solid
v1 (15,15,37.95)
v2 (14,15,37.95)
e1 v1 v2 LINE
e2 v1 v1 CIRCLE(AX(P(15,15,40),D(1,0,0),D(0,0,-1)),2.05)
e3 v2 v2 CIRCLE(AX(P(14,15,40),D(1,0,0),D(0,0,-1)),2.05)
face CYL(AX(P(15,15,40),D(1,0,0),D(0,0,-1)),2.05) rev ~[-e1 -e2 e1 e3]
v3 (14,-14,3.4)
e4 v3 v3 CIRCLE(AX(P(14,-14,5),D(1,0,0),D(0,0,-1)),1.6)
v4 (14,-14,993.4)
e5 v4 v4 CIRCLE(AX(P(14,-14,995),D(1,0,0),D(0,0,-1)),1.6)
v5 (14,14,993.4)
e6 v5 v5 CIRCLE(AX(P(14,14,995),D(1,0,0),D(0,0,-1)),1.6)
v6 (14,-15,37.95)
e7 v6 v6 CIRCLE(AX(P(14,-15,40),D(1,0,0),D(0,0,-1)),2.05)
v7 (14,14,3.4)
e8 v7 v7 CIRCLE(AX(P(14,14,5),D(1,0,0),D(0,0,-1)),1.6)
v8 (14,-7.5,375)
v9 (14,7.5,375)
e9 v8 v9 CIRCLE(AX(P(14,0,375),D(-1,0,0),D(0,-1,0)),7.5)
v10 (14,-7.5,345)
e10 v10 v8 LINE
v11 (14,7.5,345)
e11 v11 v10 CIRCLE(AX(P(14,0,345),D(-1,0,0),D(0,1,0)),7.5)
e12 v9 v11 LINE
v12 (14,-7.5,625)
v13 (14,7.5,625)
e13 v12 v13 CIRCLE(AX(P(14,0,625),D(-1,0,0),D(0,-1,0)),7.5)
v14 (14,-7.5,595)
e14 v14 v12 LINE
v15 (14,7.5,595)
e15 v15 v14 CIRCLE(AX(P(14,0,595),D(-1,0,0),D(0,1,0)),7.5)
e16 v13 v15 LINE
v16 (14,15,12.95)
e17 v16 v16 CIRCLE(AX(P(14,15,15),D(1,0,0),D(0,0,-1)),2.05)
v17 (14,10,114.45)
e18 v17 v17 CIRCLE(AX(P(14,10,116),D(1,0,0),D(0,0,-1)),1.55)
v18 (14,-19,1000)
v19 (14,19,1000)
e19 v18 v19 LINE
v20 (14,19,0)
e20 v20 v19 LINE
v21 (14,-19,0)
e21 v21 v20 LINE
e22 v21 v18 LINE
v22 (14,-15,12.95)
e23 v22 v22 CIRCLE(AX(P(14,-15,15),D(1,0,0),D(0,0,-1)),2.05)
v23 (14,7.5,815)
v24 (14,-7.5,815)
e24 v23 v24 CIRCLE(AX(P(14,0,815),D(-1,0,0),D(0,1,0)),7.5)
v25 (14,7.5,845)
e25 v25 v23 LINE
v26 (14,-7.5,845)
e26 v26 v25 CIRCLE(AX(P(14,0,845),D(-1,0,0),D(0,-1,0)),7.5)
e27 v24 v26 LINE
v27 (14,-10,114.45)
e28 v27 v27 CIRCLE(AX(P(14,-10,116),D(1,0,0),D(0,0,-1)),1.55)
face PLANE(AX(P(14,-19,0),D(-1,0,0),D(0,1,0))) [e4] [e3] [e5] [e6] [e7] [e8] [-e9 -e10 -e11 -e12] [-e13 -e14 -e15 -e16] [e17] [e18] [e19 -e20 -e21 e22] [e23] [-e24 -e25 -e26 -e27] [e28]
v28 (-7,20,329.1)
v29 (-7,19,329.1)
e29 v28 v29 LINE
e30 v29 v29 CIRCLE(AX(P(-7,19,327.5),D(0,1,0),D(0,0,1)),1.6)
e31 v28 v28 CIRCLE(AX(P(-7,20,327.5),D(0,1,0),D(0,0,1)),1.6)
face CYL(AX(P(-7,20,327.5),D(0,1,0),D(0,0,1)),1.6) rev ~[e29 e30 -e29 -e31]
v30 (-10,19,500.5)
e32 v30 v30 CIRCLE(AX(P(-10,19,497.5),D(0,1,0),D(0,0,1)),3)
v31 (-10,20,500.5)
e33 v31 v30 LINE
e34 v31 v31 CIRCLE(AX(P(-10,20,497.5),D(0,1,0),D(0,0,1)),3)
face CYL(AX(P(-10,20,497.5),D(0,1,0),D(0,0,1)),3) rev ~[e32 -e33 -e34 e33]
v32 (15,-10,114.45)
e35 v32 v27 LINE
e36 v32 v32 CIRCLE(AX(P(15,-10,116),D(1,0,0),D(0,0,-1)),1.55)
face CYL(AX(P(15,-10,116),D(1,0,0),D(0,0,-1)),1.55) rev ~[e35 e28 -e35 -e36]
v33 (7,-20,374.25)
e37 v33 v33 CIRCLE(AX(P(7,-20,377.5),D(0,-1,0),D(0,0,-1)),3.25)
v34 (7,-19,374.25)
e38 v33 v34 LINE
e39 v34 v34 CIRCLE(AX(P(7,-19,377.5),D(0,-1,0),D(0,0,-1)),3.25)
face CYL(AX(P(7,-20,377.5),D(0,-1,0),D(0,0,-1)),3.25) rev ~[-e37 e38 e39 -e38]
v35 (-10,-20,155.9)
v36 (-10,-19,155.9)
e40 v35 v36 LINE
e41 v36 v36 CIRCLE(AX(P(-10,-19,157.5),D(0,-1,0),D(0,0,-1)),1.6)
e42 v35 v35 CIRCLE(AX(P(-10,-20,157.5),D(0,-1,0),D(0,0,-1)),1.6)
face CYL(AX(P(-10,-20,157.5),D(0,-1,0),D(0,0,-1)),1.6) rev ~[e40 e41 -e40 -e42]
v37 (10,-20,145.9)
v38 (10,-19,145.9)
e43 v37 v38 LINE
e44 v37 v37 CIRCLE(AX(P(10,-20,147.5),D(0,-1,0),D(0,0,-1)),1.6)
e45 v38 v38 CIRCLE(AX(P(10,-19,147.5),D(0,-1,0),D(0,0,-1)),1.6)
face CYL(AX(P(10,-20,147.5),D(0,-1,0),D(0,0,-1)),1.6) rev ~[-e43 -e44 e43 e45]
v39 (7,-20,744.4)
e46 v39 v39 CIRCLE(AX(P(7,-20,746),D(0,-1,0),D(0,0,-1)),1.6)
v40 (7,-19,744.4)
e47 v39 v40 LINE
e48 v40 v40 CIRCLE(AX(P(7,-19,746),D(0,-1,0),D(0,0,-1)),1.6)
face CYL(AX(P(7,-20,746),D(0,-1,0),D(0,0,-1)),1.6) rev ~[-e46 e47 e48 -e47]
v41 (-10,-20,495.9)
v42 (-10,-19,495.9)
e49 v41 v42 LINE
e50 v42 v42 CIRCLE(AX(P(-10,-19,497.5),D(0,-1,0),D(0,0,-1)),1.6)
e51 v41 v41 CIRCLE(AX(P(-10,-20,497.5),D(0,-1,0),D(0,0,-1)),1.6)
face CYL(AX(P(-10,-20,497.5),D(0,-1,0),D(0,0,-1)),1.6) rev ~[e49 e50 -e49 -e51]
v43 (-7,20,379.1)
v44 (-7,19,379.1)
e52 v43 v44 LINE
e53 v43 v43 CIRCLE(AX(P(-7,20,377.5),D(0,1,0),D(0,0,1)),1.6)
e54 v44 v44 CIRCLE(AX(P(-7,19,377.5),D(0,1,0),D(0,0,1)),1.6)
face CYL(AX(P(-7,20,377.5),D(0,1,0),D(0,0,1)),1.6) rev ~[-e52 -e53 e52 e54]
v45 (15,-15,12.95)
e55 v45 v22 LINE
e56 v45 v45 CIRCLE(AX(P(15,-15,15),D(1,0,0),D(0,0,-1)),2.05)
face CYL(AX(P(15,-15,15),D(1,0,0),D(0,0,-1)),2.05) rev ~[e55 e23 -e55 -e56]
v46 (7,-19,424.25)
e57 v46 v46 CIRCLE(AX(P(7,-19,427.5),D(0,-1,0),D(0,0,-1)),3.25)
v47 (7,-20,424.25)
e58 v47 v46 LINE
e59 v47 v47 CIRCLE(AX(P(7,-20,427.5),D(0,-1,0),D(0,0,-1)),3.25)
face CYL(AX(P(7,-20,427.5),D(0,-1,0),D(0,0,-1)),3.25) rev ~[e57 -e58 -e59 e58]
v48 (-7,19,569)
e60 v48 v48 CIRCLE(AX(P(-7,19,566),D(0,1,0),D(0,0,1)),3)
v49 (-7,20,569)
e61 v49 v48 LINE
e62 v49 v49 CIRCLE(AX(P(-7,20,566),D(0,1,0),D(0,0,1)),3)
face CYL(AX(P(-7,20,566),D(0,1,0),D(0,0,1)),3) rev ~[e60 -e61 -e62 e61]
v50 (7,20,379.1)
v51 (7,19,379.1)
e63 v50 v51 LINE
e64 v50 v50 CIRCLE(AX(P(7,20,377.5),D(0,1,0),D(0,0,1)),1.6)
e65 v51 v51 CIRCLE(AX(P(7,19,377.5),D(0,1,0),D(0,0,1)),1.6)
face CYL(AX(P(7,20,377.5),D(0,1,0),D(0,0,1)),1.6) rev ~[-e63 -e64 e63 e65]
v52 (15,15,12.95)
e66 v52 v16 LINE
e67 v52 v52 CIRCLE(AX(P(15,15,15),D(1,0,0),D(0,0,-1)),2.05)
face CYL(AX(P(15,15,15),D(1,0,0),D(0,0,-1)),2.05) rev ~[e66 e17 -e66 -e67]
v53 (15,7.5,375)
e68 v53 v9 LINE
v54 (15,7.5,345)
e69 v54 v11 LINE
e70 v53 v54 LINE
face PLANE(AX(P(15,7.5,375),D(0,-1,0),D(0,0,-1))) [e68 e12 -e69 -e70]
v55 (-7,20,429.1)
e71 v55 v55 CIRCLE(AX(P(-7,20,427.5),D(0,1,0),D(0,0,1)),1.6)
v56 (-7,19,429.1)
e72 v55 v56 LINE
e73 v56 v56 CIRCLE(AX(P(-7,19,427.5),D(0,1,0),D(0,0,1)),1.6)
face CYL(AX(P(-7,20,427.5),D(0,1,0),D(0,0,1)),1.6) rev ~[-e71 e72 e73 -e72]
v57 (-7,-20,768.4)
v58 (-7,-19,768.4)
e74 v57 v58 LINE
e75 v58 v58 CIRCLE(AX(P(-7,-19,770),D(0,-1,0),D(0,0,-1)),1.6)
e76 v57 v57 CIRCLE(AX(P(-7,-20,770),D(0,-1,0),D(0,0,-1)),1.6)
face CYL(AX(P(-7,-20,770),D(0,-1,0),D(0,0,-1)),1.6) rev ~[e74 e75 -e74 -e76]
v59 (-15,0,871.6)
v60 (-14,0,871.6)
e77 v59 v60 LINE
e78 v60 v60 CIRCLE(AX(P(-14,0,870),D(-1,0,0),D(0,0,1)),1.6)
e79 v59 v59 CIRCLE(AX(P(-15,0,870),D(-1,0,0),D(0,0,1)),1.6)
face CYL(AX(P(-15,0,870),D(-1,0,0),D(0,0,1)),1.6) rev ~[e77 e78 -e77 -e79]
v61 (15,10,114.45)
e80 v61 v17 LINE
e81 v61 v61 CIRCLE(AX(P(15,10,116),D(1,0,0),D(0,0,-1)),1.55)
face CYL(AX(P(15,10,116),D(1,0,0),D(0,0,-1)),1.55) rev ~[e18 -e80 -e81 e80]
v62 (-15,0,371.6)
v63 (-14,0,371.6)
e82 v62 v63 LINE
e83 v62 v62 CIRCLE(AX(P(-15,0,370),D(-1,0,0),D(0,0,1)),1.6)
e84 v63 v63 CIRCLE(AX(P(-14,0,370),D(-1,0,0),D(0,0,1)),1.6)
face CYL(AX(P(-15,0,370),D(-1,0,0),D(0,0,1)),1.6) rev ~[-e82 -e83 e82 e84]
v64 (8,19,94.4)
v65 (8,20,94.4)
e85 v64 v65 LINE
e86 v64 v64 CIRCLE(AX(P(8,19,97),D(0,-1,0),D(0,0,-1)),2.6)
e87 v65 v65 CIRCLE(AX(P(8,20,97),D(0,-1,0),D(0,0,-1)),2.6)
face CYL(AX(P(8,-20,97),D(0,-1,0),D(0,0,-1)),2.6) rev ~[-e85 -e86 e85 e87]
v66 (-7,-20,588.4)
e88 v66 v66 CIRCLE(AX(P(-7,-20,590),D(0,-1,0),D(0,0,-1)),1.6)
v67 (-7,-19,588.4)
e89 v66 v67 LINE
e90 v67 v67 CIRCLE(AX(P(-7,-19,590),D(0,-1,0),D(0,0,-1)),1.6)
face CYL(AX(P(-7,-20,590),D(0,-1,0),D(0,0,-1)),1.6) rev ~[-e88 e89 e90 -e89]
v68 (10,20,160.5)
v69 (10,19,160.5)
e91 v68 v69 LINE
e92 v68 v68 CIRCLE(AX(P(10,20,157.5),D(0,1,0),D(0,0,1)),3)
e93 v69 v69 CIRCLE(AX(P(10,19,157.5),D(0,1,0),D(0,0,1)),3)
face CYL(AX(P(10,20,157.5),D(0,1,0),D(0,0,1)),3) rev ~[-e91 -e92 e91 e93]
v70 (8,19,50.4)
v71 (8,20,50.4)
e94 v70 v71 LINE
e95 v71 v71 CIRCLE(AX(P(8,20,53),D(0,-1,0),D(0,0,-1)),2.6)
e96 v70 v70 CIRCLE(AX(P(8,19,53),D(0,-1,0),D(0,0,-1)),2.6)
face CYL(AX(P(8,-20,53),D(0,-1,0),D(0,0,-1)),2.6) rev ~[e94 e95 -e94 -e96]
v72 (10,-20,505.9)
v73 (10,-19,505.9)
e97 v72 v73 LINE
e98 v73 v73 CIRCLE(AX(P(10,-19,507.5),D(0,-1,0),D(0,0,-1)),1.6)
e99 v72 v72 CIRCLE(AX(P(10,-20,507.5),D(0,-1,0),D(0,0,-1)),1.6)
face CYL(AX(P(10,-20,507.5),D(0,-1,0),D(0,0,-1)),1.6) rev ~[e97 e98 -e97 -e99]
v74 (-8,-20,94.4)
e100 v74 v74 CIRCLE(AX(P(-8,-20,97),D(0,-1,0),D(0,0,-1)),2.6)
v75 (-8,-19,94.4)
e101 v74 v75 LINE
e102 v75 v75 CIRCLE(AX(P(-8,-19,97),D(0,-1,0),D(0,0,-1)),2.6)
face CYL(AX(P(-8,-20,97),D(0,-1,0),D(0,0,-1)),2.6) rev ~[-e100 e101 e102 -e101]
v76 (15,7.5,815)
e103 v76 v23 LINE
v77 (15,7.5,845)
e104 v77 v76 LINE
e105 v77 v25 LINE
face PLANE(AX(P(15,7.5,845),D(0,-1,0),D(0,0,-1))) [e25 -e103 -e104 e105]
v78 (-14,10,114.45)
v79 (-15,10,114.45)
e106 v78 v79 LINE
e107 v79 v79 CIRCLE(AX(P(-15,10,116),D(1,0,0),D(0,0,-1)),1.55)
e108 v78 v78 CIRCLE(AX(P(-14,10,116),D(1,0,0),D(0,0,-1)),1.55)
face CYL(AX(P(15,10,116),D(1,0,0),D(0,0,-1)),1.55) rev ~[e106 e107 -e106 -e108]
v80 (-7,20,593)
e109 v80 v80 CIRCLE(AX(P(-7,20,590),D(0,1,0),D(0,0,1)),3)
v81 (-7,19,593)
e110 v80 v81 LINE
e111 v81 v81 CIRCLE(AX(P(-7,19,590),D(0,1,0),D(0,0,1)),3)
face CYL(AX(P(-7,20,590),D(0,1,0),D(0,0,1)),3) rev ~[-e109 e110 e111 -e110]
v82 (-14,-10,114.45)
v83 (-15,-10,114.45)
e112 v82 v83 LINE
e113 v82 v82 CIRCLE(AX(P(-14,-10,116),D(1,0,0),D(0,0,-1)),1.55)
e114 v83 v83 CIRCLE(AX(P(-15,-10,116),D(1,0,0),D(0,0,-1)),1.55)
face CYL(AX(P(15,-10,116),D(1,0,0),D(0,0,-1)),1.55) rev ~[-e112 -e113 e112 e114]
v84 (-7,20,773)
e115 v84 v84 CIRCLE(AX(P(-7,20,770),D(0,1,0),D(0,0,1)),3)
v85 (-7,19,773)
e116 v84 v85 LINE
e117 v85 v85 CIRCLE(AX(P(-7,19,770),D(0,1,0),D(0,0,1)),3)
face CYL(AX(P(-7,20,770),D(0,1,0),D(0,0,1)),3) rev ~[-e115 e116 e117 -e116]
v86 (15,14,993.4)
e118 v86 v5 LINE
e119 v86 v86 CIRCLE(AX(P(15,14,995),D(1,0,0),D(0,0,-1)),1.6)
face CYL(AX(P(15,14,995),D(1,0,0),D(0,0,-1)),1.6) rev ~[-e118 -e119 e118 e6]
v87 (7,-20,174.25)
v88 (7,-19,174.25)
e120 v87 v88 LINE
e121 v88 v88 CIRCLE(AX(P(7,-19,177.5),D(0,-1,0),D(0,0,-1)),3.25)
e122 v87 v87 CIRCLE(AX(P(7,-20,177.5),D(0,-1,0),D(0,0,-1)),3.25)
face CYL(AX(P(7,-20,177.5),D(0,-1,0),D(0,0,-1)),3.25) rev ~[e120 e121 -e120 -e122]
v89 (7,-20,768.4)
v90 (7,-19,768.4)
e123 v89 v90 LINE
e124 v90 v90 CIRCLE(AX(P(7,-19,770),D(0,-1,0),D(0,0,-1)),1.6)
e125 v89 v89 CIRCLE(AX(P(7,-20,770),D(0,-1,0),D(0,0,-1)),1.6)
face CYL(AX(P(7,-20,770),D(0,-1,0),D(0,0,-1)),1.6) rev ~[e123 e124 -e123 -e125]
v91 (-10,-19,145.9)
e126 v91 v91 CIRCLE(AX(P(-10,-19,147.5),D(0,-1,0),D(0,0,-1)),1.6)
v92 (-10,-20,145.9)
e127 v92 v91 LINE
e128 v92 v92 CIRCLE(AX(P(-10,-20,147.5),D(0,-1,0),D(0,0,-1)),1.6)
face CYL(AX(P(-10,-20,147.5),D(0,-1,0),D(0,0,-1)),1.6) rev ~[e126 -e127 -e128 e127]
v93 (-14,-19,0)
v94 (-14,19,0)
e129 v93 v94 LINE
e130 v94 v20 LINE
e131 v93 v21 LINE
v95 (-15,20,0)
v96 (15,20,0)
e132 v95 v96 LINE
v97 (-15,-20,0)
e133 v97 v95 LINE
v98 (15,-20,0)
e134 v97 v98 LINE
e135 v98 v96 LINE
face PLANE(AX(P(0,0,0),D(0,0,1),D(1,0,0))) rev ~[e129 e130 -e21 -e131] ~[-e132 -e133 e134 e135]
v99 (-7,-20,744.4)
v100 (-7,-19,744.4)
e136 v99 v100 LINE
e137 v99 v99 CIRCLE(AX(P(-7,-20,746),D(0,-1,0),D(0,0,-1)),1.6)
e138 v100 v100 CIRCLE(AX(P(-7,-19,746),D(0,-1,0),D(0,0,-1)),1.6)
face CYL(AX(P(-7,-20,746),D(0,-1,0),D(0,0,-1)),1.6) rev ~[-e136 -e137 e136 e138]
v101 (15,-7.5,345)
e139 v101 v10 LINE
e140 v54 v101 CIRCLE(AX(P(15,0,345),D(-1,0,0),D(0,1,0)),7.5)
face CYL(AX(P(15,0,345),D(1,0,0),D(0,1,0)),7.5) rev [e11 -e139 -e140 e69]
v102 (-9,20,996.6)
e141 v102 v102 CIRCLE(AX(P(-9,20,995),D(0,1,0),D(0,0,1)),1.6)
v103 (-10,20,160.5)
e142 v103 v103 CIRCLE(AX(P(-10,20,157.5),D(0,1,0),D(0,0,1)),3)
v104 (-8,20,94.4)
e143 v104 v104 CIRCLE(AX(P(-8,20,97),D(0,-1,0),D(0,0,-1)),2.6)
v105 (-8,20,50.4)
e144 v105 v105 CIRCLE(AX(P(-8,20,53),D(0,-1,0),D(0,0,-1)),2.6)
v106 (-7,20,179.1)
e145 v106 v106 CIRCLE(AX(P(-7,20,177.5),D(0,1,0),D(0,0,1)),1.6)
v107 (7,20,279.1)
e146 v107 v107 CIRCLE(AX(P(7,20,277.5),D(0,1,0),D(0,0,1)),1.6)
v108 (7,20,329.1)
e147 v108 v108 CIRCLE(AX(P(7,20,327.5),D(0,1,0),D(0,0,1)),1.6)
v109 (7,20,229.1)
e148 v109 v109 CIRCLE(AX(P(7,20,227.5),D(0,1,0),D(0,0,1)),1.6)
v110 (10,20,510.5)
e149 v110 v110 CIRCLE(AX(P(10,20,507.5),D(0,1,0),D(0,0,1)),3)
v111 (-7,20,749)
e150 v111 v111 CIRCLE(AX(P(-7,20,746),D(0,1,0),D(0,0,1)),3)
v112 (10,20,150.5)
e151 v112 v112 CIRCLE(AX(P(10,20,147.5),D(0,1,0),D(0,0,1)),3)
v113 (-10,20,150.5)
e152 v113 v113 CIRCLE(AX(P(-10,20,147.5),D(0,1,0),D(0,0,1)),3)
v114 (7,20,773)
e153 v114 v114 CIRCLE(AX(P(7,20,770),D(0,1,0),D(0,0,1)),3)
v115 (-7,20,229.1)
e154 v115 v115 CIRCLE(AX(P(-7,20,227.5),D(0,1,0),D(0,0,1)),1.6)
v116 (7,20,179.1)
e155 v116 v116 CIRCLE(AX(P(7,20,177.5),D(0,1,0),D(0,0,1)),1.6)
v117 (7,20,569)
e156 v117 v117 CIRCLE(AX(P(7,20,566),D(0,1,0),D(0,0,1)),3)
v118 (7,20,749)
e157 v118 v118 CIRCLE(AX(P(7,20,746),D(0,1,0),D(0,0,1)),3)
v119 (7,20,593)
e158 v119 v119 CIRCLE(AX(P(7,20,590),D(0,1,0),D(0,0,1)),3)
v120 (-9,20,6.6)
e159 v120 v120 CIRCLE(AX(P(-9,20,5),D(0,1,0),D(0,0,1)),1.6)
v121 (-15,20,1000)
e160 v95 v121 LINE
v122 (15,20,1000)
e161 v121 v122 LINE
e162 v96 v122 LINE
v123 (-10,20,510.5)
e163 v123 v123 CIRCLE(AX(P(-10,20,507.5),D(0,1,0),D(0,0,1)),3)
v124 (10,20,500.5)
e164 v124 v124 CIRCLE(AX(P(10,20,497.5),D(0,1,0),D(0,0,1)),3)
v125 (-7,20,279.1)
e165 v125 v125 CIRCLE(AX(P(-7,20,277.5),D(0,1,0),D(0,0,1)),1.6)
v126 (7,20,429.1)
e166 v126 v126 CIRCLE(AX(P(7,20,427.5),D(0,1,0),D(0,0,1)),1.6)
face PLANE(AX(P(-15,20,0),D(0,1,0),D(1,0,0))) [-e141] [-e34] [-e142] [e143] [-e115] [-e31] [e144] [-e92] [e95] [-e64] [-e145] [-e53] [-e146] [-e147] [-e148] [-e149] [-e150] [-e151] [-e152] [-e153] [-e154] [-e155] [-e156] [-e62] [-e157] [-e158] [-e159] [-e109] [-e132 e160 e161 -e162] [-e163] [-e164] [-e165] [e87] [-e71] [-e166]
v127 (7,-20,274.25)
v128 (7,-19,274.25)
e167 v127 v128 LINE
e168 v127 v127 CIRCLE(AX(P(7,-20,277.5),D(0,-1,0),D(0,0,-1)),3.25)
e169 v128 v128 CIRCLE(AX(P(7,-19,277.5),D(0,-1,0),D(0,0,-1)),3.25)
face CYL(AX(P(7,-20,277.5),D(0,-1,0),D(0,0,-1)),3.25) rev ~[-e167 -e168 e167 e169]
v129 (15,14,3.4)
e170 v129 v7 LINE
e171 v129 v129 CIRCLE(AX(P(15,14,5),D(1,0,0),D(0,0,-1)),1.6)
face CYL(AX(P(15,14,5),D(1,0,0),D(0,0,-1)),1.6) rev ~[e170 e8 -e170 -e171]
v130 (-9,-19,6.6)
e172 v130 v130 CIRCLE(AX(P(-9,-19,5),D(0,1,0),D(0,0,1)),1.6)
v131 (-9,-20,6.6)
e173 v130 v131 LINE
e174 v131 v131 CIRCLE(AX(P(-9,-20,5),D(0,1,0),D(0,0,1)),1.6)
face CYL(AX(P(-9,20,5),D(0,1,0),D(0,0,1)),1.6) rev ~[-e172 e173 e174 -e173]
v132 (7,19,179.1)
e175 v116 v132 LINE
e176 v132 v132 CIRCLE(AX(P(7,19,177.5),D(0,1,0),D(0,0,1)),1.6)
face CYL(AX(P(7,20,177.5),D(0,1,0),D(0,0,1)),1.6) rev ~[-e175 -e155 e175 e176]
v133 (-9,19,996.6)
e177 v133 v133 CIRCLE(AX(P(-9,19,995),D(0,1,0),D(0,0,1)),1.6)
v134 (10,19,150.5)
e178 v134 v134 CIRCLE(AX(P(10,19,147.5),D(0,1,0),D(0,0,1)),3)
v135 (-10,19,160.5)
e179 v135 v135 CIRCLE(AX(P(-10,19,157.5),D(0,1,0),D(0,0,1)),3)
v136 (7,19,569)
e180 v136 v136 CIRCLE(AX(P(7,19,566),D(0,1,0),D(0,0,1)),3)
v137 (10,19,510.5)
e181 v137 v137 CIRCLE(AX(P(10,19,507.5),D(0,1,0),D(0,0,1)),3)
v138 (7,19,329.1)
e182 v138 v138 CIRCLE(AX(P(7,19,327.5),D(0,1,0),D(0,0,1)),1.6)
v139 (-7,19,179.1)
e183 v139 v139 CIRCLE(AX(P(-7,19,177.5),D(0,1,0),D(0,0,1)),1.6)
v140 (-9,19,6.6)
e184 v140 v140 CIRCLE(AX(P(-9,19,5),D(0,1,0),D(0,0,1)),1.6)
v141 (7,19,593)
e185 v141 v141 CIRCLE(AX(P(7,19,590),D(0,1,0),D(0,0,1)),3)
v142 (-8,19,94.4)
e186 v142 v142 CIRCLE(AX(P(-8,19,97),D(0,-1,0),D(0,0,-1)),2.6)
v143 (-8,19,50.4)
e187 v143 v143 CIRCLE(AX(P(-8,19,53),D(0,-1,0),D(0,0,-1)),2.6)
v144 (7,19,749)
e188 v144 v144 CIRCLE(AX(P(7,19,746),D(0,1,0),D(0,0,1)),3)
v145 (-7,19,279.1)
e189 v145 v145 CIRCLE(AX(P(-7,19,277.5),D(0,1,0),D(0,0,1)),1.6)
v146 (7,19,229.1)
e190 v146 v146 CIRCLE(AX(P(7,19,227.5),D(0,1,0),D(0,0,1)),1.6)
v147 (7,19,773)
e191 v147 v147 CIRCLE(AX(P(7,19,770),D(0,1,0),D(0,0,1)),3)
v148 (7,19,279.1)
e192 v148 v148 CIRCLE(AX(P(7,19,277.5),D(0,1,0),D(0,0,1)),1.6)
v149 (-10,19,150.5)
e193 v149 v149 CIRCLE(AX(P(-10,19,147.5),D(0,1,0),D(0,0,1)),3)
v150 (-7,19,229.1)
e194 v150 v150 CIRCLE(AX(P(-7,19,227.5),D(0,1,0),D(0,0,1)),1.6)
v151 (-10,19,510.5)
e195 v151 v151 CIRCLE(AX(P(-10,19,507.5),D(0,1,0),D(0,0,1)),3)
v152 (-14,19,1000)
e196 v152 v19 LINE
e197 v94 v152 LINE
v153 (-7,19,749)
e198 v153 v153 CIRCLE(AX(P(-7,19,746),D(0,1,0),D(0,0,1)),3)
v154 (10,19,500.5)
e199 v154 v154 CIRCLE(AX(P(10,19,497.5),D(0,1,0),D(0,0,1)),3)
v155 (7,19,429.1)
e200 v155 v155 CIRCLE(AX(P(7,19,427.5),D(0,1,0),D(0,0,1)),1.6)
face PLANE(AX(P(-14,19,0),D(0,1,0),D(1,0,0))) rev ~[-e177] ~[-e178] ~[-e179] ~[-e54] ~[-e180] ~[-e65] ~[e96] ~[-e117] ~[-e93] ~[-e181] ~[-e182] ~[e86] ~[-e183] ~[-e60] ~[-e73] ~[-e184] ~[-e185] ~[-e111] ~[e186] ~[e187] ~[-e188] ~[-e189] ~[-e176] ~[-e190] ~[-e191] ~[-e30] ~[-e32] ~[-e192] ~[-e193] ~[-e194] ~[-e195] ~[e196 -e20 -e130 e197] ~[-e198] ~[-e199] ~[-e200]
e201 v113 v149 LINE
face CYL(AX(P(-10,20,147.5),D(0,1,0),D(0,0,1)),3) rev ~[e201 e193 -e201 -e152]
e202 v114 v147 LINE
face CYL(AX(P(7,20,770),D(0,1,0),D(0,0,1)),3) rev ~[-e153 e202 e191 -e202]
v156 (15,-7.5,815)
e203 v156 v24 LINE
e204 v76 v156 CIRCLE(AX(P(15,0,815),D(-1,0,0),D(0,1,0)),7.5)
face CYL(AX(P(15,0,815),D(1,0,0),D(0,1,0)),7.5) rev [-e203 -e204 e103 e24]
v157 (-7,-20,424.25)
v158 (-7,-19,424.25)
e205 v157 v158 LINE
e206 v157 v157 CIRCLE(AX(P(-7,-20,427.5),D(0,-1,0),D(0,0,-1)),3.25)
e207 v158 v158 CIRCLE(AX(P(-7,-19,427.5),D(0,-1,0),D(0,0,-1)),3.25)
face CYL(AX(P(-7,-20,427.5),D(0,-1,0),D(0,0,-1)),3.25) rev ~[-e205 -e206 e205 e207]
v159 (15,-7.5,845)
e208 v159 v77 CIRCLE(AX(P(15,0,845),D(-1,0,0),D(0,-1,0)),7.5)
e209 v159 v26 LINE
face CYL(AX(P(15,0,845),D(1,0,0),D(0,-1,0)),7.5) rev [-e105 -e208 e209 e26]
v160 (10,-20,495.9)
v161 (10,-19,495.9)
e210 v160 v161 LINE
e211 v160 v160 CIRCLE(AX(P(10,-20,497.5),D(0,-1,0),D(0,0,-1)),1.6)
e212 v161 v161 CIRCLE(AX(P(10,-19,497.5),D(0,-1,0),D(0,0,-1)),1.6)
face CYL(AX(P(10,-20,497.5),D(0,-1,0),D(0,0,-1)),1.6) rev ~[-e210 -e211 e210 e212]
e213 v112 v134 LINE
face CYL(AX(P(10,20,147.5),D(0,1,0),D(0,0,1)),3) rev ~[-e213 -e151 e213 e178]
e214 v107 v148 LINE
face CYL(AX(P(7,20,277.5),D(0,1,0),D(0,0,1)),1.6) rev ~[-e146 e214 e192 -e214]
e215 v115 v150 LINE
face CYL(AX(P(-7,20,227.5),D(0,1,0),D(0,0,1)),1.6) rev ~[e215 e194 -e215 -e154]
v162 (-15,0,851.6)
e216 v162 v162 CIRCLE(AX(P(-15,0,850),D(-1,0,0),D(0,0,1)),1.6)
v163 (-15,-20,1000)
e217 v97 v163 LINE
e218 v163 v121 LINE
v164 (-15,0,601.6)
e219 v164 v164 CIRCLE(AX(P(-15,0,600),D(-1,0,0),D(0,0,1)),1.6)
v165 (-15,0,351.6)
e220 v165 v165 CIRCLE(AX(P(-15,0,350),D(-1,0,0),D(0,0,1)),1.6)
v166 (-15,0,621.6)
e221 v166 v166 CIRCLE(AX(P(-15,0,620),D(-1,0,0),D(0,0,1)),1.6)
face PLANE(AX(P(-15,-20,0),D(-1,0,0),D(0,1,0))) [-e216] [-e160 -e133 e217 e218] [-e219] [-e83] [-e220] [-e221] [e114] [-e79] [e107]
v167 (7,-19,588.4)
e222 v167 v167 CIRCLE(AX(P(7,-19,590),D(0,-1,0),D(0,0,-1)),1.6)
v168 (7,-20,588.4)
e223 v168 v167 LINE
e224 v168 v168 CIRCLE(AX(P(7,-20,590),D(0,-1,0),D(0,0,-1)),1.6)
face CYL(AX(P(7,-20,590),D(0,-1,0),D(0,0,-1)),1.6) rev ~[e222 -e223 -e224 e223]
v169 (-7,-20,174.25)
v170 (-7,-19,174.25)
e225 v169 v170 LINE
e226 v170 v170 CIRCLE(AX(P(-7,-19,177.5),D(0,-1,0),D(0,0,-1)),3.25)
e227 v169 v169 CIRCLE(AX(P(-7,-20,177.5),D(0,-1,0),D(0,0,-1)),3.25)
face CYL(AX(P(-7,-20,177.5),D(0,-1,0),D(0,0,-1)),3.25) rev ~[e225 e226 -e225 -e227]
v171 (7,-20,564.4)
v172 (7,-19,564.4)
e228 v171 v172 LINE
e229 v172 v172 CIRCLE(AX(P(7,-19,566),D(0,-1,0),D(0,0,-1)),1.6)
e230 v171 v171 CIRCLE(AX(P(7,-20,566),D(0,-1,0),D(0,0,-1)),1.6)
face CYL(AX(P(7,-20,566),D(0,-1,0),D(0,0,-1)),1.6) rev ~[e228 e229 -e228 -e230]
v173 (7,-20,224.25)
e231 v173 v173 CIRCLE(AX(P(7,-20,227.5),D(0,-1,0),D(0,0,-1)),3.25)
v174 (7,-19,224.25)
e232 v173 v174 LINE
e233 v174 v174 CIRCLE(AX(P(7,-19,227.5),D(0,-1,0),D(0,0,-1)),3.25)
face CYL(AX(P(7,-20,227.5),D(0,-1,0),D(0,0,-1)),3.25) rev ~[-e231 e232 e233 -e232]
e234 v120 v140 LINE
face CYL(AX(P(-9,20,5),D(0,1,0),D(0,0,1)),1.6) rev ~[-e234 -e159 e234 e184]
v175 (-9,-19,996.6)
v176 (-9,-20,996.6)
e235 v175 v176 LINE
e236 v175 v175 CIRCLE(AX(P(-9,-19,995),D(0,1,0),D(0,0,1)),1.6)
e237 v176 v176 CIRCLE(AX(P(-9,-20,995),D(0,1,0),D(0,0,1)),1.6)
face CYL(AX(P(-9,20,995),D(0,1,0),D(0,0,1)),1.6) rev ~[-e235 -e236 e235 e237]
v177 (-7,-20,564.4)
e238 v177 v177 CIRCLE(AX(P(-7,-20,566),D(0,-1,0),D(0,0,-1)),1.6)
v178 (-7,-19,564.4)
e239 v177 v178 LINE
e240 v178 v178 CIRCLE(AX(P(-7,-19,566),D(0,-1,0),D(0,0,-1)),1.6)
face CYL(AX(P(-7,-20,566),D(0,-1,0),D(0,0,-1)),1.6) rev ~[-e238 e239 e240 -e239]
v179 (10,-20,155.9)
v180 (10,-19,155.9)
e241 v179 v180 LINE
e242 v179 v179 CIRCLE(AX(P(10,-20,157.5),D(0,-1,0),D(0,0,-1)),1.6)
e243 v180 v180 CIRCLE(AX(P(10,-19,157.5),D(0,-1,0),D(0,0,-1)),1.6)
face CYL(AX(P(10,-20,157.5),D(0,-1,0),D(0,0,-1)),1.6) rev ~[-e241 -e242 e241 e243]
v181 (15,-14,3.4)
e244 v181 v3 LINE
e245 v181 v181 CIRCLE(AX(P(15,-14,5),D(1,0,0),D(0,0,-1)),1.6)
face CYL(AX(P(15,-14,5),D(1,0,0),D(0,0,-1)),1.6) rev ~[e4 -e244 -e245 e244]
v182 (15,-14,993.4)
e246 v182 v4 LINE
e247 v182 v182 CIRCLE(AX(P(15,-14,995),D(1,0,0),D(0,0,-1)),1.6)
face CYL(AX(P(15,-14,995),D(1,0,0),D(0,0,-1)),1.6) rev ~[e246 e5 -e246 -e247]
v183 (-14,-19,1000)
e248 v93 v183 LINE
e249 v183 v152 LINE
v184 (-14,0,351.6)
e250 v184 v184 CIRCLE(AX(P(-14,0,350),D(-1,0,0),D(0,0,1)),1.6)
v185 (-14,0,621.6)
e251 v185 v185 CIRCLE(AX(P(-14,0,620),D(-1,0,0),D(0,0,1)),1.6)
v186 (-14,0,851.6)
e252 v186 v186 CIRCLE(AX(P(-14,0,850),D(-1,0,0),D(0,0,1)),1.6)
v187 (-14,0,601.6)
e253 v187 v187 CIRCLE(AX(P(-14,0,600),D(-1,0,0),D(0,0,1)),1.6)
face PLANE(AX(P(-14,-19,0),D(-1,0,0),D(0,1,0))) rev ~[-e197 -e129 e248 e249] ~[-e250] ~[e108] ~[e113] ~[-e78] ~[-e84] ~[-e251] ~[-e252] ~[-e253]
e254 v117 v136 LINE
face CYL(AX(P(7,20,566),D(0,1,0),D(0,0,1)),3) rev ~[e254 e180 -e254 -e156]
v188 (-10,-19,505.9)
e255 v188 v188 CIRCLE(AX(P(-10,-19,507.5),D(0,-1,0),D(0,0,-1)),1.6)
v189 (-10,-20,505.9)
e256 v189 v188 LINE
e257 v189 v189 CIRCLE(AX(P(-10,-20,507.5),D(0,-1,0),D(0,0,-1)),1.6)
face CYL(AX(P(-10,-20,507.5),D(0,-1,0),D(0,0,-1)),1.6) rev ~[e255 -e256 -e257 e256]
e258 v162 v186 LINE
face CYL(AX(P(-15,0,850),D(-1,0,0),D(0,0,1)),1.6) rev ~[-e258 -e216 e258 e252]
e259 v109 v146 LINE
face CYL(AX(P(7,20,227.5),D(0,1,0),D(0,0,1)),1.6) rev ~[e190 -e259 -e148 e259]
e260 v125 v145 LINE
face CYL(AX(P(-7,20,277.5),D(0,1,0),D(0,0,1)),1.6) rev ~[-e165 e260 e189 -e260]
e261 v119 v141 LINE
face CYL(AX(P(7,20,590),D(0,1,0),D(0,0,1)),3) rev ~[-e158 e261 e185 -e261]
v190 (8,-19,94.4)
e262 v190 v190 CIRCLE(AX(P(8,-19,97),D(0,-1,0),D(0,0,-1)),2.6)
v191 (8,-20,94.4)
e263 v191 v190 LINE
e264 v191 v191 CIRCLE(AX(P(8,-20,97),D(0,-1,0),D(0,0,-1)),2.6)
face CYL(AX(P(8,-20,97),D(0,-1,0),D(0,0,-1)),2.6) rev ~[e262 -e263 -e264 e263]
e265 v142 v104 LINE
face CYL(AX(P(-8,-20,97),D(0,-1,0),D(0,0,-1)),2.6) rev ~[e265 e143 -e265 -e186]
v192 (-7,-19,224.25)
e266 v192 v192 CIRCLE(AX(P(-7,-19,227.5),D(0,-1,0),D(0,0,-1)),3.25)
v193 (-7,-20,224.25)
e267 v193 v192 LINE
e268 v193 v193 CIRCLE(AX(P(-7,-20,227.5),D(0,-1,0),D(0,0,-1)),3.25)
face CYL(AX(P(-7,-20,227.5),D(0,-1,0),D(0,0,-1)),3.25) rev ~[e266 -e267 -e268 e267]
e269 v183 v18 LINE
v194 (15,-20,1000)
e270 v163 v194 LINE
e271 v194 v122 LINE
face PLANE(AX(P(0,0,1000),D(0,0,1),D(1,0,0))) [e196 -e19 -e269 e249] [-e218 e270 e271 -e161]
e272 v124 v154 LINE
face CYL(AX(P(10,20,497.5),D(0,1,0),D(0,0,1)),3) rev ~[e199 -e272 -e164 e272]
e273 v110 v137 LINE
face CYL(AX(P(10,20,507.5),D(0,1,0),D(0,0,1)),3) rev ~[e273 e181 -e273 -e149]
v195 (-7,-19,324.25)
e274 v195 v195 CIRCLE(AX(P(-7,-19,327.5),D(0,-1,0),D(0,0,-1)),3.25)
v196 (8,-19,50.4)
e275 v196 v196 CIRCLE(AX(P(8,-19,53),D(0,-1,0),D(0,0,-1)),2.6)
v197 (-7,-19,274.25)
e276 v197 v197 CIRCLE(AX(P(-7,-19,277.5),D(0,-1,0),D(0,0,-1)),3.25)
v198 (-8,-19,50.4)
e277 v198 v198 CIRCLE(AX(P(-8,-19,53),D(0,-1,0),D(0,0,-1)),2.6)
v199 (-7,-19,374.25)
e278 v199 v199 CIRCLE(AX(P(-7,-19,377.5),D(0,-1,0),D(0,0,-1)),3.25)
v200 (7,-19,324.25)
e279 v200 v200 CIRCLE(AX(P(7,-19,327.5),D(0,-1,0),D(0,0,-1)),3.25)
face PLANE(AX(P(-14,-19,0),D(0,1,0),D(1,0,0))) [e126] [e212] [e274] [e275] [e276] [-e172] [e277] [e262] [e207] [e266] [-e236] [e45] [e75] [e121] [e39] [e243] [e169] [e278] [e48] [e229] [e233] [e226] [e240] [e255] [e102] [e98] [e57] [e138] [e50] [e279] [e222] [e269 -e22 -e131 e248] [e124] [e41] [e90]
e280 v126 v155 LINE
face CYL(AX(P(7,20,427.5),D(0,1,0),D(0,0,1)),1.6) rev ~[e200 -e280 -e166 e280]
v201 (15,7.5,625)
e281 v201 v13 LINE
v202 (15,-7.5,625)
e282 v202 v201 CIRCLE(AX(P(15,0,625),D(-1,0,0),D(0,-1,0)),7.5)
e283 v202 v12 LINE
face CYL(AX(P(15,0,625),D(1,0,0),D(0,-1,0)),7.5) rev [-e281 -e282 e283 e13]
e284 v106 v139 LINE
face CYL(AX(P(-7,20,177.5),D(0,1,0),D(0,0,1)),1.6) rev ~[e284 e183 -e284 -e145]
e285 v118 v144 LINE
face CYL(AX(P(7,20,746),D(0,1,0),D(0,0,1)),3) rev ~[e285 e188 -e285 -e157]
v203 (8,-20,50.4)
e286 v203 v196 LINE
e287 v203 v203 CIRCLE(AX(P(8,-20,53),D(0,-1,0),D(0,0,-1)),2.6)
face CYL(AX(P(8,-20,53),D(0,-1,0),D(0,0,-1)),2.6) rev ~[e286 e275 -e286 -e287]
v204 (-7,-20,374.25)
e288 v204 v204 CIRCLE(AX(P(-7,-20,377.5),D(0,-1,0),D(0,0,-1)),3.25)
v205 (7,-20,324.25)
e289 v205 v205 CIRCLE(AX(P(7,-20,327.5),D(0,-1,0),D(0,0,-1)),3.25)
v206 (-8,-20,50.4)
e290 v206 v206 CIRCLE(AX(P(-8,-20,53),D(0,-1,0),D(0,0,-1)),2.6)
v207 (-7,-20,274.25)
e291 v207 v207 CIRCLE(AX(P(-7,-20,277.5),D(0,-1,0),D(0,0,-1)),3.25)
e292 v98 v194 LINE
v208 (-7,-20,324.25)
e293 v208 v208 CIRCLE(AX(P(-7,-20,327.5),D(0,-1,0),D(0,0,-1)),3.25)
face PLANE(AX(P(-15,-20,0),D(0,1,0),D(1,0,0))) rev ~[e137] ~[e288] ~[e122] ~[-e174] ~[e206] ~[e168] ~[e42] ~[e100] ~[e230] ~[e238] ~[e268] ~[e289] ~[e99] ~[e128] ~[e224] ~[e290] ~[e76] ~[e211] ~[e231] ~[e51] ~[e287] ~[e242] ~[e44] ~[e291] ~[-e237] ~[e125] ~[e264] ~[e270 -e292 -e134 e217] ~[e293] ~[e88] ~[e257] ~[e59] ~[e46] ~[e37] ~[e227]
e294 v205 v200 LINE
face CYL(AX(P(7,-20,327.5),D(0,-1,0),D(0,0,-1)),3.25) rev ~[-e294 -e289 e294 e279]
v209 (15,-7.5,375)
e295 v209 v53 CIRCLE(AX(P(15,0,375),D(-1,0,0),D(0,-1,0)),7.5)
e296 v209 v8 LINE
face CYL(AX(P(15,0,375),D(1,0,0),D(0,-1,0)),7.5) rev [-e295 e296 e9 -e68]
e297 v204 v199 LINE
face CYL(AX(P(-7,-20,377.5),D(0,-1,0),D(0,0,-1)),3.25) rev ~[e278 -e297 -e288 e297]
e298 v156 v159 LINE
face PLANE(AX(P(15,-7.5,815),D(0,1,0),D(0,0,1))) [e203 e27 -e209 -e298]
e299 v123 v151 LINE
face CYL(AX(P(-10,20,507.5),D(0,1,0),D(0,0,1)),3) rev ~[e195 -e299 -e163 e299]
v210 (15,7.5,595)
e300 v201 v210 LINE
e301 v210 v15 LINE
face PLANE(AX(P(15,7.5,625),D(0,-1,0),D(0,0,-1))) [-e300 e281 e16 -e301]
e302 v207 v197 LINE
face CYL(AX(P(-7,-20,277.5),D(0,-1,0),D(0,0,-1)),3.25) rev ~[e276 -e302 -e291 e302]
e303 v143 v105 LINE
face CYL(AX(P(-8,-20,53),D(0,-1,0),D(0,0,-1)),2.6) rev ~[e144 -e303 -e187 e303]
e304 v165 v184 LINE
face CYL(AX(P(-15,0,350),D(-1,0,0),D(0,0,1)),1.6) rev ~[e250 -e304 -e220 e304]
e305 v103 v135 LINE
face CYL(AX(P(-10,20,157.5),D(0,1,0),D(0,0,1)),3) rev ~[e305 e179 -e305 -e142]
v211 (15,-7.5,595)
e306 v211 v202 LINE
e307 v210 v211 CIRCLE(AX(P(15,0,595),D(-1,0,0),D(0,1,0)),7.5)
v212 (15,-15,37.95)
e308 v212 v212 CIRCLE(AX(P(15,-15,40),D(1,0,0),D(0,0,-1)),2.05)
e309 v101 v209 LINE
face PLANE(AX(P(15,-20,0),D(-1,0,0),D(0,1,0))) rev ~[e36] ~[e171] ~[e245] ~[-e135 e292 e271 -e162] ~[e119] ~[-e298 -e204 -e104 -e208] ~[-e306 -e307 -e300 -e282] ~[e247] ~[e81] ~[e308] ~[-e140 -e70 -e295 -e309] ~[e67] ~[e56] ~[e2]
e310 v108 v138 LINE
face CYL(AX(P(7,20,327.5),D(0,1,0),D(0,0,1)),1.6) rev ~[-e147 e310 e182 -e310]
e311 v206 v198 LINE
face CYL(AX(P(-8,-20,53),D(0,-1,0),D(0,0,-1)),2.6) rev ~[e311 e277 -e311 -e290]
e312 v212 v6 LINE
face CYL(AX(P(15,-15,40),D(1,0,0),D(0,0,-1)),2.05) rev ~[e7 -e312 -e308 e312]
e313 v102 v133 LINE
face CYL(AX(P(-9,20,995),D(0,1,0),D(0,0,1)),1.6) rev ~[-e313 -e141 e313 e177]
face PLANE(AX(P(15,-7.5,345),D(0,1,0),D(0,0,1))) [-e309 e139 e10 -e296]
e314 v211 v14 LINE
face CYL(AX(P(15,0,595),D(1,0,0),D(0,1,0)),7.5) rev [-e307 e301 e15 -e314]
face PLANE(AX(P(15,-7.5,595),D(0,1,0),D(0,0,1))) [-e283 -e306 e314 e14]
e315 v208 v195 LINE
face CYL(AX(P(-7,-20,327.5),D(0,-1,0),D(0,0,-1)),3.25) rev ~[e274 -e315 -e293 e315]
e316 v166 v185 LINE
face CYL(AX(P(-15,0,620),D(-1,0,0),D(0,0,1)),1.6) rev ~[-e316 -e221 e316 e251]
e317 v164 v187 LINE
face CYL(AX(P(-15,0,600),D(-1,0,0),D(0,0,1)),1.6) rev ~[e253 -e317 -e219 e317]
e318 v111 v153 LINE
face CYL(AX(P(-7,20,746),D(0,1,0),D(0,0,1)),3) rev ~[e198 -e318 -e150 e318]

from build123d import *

# Parameters (mm, degrees)
SKETCH_1_W           = 30
SKETCH_1_H           = 40
SKETCH_1_W_2         = 28
SKETCH_1_H_2         = 38
EXTRUDE_1_DEPTH      = 1000
SKETCH_2_R           = 1.6
CUT_EXTRUDE_1_DEPTH  = 10
SKETCH_3_R           = 1.6
CUT_EXTRUDE_2_DEPTH  = 1001.912084051
SKETCH_5_R           = 2.6
CUT_EXTRUDE_3_DEPTH  = 1001.912084051
SKETCH_6_R           = 2.05
CUT_EXTRUDE_4_DEPTH  = 1
SKETCH_7_R           = 1.6
CUT_EXTRUDE_5_DEPTH  = 1
SKETCH_9_R           = 3
CUT_EXTRUDE_9_DEPTH  = 1
SKETCH_11_R          = 1.6
CUT_EXTRUDE_10_DEPTH = 1001.912084051
SKETCH_12_R          = 3.25
CUT_EXTRUDE_11_DEPTH = 1
SKETCH_16_R          = 3
CUT_EXTRUDE_15_DEPTH = 1
SKETCH_18_R          = 1.55
CUT_EXTRUDE_16_DEPTH = 10
SKETCH_21_R          = 1.6
CUT_EXTRUDE_18_DEPTH = 1001.912084051
SKETCH_23_R          = 1.55
CUT_EXTRUDE_19_DEPTH = 30


with BuildPart() as part:
    # 草图1 → 凸台-拉伸1 (new body)
    with BuildSketch(Plane.XY):
        Rectangle(SKETCH_1_W, SKETCH_1_H)
        Rectangle(SKETCH_1_W_2, SKETCH_1_H_2, mode=Mode.SUBTRACT)
    extrude(amount=EXTRUDE_1_DEPTH)

    # 草图2 → 切除-拉伸1 (cut)
    with BuildSketch(Plane(origin=(15, 0, 0), x_dir=(0, 0, -1), z_dir=(1, 0, 0))):
        with Locations((-995, 14)):
            Circle(SKETCH_2_R)
        with Locations((-995, -14)):
            Circle(SKETCH_2_R)
        with Locations((-5, 14)):
            Circle(SKETCH_2_R)
        with Locations((-5, -14)):
            Circle(SKETCH_2_R)
    extrude(amount=-CUT_EXTRUDE_1_DEPTH, mode=Mode.SUBTRACT)

    # 草图3 → 切除-拉伸2 (cut, through all)
    with BuildSketch(Plane(origin=(0, 20, 0), x_dir=(1, 0, 0), z_dir=(0, 1, 0))):
        with Locations(Location((-9, -995, 0), (0, 0, 270))):
            Circle(SKETCH_3_R)
        with Locations(Location((-9, -5, 0), (0, 0, 270))):
            Circle(SKETCH_3_R)
    extrude(amount=-CUT_EXTRUDE_2_DEPTH, mode=Mode.SUBTRACT)

    # 草图5 → 切除-拉伸3 (cut, through all)
    with BuildSketch(Plane.XZ.offset(20)):
        with Locations(Location((-8, 53, 0), (0, 0, 270))):
            Circle(SKETCH_5_R)
        with Locations(Location((8, 53, 0), (0, 0, 270))):
            Circle(SKETCH_5_R)
        with Locations(Location((-8, 97, 0), (0, 0, 270))):
            Circle(SKETCH_5_R)
        with Locations(Location((8, 97, 0), (0, 0, 270))):
            Circle(SKETCH_5_R)
    extrude(amount=-CUT_EXTRUDE_3_DEPTH, mode=Mode.SUBTRACT)

    # 草图6 → 切除-拉伸4 (cut)
    with BuildSketch(Plane(origin=(15, 0, 0), x_dir=(0, 0, -1), z_dir=(1, 0, 0))):
        with Locations((-40, 15)):
            Circle(SKETCH_6_R)
        with Locations((-15, 15)):
            Circle(SKETCH_6_R)
        with Locations((-15, -15)):
            Circle(SKETCH_6_R)
        with Locations((-40, -15)):
            Circle(SKETCH_6_R)
        with BuildLine():
            Line((-345, -7.5), (-375, -7.5))
            ThreePointArc((-375, -7.5), (-382.5, 0), (-375, 7.5))
            Line((-375, 7.5), (-345, 7.5))
            ThreePointArc((-345, 7.5), (-337.5, 0), (-345, -7.5))
        make_face()
        with BuildLine():
            Line((-595, -7.5), (-625, -7.5))
            ThreePointArc((-625, -7.5), (-632.5, 0), (-625, 7.5))
            Line((-625, 7.5), (-595, 7.5))
            ThreePointArc((-595, 7.5), (-587.5, 0), (-595, -7.5))
        make_face()
        with BuildLine():
            Line((-815, -7.5), (-845, -7.5))
            ThreePointArc((-845, -7.5), (-852.5, 0), (-845, 7.5))
            Line((-845, 7.5), (-815, 7.5))
            ThreePointArc((-815, 7.5), (-807.5, 0), (-815, -7.5))
        make_face()
    extrude(amount=-CUT_EXTRUDE_4_DEPTH, mode=Mode.SUBTRACT)

    # 草图7 → 切除-拉伸5 (cut)
    with BuildSketch(Plane.ZY.offset(15)):
        with Locations((350, 0)):
            Circle(SKETCH_7_R)
        with Locations((370, 0)):
            Circle(SKETCH_7_R)
        with Locations((600, 0)):
            Circle(SKETCH_7_R)
        with Locations((620, 0)):
            Circle(SKETCH_7_R)
        with Locations((850, 0)):
            Circle(SKETCH_7_R)
        with Locations((870, 0)):
            Circle(SKETCH_7_R)
    extrude(amount=-CUT_EXTRUDE_5_DEPTH, mode=Mode.SUBTRACT)

    # 草图9 → 切除-拉伸9 (cut)
    with BuildSketch(Plane(origin=(0, 20, 0), x_dir=(1, 0, 0), z_dir=(0, 1, 0))):
        with Locations(Location((-10, -507.5, 0), (0, 0, 270))):
            Circle(SKETCH_9_R)
        with Locations(Location((-10, -497.5, 0), (0, 0, 270))):
            Circle(SKETCH_9_R)
        with Locations(Location((10, -497.5, 0), (0, 0, 270))):
            Circle(SKETCH_9_R)
        with Locations(Location((10, -507.5, 0), (0, 0, 270))):
            Circle(SKETCH_9_R)
        with Locations(Location((-10, -147.5, 0), (0, 0, 270))):
            Circle(SKETCH_9_R)
        with Locations(Location((-10, -157.5, 0), (0, 0, 270))):
            Circle(SKETCH_9_R)
        with Locations(Location((10, -157.5, 0), (0, 0, 270))):
            Circle(SKETCH_9_R)
        with Locations(Location((10, -147.5, 0), (0, 0, 270))):
            Circle(SKETCH_9_R)
    extrude(amount=-CUT_EXTRUDE_9_DEPTH, mode=Mode.SUBTRACT)

    # 草图11 → 切除-拉伸10 (cut, through all)
    with BuildSketch(Plane(origin=(0, 20, 0), x_dir=(1, 0, 0), z_dir=(0, 1, 0))):
        with Locations(Location((-7, -177.5, 0), (0, 0, 270))):
            Circle(SKETCH_11_R)
        with Locations(Location((7, -177.5, 0), (0, 0, 270))):
            Circle(SKETCH_11_R)
        with Locations(Location((-7, -227.5, 0), (0, 0, 270))):
            Circle(SKETCH_11_R)
        with Locations(Location((7, -227.5, 0), (0, 0, 270))):
            Circle(SKETCH_11_R)
        with Locations(Location((-7, -277.5, 0), (0, 0, 270))):
            Circle(SKETCH_11_R)
        with Locations(Location((7, -277.5, 0), (0, 0, 270))):
            Circle(SKETCH_11_R)
        with Locations(Location((-7, -327.5, 0), (0, 0, 270))):
            Circle(SKETCH_11_R)
        with Locations(Location((7, -327.5, 0), (0, 0, 270))):
            Circle(SKETCH_11_R)
        with Locations(Location((-7, -377.5, 0), (0, 0, 270))):
            Circle(SKETCH_11_R)
        with Locations(Location((7, -377.5, 0), (0, 0, 270))):
            Circle(SKETCH_11_R)
        with Locations(Location((-7, -427.5, 0), (0, 0, 270))):
            Circle(SKETCH_11_R)
        with Locations(Location((7, -427.5, 0), (0, 0, 270))):
            Circle(SKETCH_11_R)
    extrude(amount=-CUT_EXTRUDE_10_DEPTH, mode=Mode.SUBTRACT)

    # 草图12 → 切除-拉伸11 (cut)
    with BuildSketch(Plane.XZ.offset(20)):
        with Locations(Location((-7, 227.5, 0), (0, 0, 270))):
            Circle(SKETCH_12_R)
        with Locations(Location((7, 227.5, 0), (0, 0, 270))):
            Circle(SKETCH_12_R)
        with Locations(Location((-7, 277.5, 0), (0, 0, 270))):
            Circle(SKETCH_12_R)
        with Locations(Location((7, 277.5, 0), (0, 0, 270))):
            Circle(SKETCH_12_R)
        with Locations(Location((-7, 327.5, 0), (0, 0, 270))):
            Circle(SKETCH_12_R)
        with Locations(Location((-7, 177.5, 0), (0, 0, 270))):
            Circle(SKETCH_12_R)
        with Locations(Location((7, 177.5, 0), (0, 0, 270))):
            Circle(SKETCH_12_R)
        with Locations(Location((7, 327.5, 0), (0, 0, 270))):
            Circle(SKETCH_12_R)
        with Locations(Location((-7, 377.5, 0), (0, 0, 270))):
            Circle(SKETCH_12_R)
        with Locations(Location((7, 377.5, 0), (0, 0, 270))):
            Circle(SKETCH_12_R)
        with Locations(Location((-7, 427.5, 0), (0, 0, 270))):
            Circle(SKETCH_12_R)
        with Locations(Location((7, 427.5, 0), (0, 0, 270))):
            Circle(SKETCH_12_R)
    extrude(amount=-CUT_EXTRUDE_11_DEPTH, mode=Mode.SUBTRACT)

    # 草图16 → 切除-拉伸15 (cut)
    with BuildSketch(Plane(origin=(0, 20, 0), x_dir=(1, 0, 0), z_dir=(0, 1, 0))):
        with Locations(Location((-7, -770, 0), (0, 0, 270))):
            Circle(SKETCH_16_R)
        with Locations(Location((7, -770, 0), (0, 0, 270))):
            Circle(SKETCH_16_R)
        with Locations(Location((-7, -590, 0), (0, 0, 270))):
            Circle(SKETCH_16_R)
        with Locations(Location((-7, -746, 0), (0, 0, 270))):
            Circle(SKETCH_16_R)
        with Locations(Location((7, -590, 0), (0, 0, 270))):
            Circle(SKETCH_16_R)
        with Locations(Location((7, -746, 0), (0, 0, 270))):
            Circle(SKETCH_16_R)
        with Locations(Location((7, -566, 0), (0, 0, 270))):
            Circle(SKETCH_16_R)
        with Locations(Location((-7, -566, 0), (0, 0, 270))):
            Circle(SKETCH_16_R)
    extrude(amount=-CUT_EXTRUDE_15_DEPTH, mode=Mode.SUBTRACT)

    # 草图18 → 切除-拉伸16 (cut)
    with BuildSketch(Plane.XZ.offset(20)):
        with Locations(Location((-7, 770, 0), (0, 0, 270))):
            Circle(SKETCH_18_R)
        with Locations(Location((7, 770, 0), (0, 0, 270))):
            Circle(SKETCH_18_R)
        with Locations(Location((-7, 746, 0), (0, 0, 270))):
            Circle(SKETCH_18_R)
        with Locations(Location((7, 746, 0), (0, 0, 270))):
            Circle(SKETCH_18_R)
    extrude(amount=-CUT_EXTRUDE_16_DEPTH, mode=Mode.SUBTRACT)

    # 草图21 → 切除-拉伸18 (cut, through all)
    with BuildSketch(Plane.XZ.offset(20)):
        with Locations(Location((-10, 147.5, 0), (0, 0, 270))):
            Circle(SKETCH_21_R)
        with Locations(Location((-10, 157.5, 0), (0, 0, 270))):
            Circle(SKETCH_21_R)
        with Locations(Location((10, 147.5, 0), (0, 0, 270))):
            Circle(SKETCH_21_R)
        with Locations(Location((10, 157.5, 0), (0, 0, 270))):
            Circle(SKETCH_21_R)
        with Locations(Location((-10, 497.5, 0), (0, 0, 270))):
            Circle(SKETCH_21_R)
        with Locations(Location((-10, 507.5, 0), (0, 0, 270))):
            Circle(SKETCH_21_R)
        with Locations(Location((10, 497.5, 0), (0, 0, 270))):
            Circle(SKETCH_21_R)
        with Locations(Location((10, 507.5, 0), (0, 0, 270))):
            Circle(SKETCH_21_R)
        with Locations(Location((-7, 566, 0), (0, 0, 270))):
            Circle(SKETCH_21_R)
        with Locations(Location((-7, 590, 0), (0, 0, 270))):
            Circle(SKETCH_21_R)
        with Locations(Location((7, 566, 0), (0, 0, 270))):
            Circle(SKETCH_21_R)
        with Locations(Location((7, 590, 0), (0, 0, 270))):
            Circle(SKETCH_21_R)
        with Locations(Location((-7, 746, 0), (0, 0, 270))):
            Circle(SKETCH_21_R)
        with Locations(Location((-7, 770, 0), (0, 0, 270))):
            Circle(SKETCH_21_R)
        with Locations(Location((7, 746, 0), (0, 0, 270))):
            Circle(SKETCH_21_R)
        with Locations(Location((7, 770, 0), (0, 0, 270))):
            Circle(SKETCH_21_R)
    extrude(amount=-CUT_EXTRUDE_18_DEPTH, mode=Mode.SUBTRACT)

    # 草图23 → 切除-拉伸19 (cut)
    with BuildSketch(Plane(origin=(15, 0, 0), x_dir=(0, 0, -1), z_dir=(1, 0, 0))):
        with Locations((-116, 10)):
            Circle(SKETCH_23_R)
        with Locations((-116, -10)):
            Circle(SKETCH_23_R)
    extrude(amount=-CUT_EXTRUDE_19_DEPTH, mode=Mode.SUBTRACT)


solid = part.part
